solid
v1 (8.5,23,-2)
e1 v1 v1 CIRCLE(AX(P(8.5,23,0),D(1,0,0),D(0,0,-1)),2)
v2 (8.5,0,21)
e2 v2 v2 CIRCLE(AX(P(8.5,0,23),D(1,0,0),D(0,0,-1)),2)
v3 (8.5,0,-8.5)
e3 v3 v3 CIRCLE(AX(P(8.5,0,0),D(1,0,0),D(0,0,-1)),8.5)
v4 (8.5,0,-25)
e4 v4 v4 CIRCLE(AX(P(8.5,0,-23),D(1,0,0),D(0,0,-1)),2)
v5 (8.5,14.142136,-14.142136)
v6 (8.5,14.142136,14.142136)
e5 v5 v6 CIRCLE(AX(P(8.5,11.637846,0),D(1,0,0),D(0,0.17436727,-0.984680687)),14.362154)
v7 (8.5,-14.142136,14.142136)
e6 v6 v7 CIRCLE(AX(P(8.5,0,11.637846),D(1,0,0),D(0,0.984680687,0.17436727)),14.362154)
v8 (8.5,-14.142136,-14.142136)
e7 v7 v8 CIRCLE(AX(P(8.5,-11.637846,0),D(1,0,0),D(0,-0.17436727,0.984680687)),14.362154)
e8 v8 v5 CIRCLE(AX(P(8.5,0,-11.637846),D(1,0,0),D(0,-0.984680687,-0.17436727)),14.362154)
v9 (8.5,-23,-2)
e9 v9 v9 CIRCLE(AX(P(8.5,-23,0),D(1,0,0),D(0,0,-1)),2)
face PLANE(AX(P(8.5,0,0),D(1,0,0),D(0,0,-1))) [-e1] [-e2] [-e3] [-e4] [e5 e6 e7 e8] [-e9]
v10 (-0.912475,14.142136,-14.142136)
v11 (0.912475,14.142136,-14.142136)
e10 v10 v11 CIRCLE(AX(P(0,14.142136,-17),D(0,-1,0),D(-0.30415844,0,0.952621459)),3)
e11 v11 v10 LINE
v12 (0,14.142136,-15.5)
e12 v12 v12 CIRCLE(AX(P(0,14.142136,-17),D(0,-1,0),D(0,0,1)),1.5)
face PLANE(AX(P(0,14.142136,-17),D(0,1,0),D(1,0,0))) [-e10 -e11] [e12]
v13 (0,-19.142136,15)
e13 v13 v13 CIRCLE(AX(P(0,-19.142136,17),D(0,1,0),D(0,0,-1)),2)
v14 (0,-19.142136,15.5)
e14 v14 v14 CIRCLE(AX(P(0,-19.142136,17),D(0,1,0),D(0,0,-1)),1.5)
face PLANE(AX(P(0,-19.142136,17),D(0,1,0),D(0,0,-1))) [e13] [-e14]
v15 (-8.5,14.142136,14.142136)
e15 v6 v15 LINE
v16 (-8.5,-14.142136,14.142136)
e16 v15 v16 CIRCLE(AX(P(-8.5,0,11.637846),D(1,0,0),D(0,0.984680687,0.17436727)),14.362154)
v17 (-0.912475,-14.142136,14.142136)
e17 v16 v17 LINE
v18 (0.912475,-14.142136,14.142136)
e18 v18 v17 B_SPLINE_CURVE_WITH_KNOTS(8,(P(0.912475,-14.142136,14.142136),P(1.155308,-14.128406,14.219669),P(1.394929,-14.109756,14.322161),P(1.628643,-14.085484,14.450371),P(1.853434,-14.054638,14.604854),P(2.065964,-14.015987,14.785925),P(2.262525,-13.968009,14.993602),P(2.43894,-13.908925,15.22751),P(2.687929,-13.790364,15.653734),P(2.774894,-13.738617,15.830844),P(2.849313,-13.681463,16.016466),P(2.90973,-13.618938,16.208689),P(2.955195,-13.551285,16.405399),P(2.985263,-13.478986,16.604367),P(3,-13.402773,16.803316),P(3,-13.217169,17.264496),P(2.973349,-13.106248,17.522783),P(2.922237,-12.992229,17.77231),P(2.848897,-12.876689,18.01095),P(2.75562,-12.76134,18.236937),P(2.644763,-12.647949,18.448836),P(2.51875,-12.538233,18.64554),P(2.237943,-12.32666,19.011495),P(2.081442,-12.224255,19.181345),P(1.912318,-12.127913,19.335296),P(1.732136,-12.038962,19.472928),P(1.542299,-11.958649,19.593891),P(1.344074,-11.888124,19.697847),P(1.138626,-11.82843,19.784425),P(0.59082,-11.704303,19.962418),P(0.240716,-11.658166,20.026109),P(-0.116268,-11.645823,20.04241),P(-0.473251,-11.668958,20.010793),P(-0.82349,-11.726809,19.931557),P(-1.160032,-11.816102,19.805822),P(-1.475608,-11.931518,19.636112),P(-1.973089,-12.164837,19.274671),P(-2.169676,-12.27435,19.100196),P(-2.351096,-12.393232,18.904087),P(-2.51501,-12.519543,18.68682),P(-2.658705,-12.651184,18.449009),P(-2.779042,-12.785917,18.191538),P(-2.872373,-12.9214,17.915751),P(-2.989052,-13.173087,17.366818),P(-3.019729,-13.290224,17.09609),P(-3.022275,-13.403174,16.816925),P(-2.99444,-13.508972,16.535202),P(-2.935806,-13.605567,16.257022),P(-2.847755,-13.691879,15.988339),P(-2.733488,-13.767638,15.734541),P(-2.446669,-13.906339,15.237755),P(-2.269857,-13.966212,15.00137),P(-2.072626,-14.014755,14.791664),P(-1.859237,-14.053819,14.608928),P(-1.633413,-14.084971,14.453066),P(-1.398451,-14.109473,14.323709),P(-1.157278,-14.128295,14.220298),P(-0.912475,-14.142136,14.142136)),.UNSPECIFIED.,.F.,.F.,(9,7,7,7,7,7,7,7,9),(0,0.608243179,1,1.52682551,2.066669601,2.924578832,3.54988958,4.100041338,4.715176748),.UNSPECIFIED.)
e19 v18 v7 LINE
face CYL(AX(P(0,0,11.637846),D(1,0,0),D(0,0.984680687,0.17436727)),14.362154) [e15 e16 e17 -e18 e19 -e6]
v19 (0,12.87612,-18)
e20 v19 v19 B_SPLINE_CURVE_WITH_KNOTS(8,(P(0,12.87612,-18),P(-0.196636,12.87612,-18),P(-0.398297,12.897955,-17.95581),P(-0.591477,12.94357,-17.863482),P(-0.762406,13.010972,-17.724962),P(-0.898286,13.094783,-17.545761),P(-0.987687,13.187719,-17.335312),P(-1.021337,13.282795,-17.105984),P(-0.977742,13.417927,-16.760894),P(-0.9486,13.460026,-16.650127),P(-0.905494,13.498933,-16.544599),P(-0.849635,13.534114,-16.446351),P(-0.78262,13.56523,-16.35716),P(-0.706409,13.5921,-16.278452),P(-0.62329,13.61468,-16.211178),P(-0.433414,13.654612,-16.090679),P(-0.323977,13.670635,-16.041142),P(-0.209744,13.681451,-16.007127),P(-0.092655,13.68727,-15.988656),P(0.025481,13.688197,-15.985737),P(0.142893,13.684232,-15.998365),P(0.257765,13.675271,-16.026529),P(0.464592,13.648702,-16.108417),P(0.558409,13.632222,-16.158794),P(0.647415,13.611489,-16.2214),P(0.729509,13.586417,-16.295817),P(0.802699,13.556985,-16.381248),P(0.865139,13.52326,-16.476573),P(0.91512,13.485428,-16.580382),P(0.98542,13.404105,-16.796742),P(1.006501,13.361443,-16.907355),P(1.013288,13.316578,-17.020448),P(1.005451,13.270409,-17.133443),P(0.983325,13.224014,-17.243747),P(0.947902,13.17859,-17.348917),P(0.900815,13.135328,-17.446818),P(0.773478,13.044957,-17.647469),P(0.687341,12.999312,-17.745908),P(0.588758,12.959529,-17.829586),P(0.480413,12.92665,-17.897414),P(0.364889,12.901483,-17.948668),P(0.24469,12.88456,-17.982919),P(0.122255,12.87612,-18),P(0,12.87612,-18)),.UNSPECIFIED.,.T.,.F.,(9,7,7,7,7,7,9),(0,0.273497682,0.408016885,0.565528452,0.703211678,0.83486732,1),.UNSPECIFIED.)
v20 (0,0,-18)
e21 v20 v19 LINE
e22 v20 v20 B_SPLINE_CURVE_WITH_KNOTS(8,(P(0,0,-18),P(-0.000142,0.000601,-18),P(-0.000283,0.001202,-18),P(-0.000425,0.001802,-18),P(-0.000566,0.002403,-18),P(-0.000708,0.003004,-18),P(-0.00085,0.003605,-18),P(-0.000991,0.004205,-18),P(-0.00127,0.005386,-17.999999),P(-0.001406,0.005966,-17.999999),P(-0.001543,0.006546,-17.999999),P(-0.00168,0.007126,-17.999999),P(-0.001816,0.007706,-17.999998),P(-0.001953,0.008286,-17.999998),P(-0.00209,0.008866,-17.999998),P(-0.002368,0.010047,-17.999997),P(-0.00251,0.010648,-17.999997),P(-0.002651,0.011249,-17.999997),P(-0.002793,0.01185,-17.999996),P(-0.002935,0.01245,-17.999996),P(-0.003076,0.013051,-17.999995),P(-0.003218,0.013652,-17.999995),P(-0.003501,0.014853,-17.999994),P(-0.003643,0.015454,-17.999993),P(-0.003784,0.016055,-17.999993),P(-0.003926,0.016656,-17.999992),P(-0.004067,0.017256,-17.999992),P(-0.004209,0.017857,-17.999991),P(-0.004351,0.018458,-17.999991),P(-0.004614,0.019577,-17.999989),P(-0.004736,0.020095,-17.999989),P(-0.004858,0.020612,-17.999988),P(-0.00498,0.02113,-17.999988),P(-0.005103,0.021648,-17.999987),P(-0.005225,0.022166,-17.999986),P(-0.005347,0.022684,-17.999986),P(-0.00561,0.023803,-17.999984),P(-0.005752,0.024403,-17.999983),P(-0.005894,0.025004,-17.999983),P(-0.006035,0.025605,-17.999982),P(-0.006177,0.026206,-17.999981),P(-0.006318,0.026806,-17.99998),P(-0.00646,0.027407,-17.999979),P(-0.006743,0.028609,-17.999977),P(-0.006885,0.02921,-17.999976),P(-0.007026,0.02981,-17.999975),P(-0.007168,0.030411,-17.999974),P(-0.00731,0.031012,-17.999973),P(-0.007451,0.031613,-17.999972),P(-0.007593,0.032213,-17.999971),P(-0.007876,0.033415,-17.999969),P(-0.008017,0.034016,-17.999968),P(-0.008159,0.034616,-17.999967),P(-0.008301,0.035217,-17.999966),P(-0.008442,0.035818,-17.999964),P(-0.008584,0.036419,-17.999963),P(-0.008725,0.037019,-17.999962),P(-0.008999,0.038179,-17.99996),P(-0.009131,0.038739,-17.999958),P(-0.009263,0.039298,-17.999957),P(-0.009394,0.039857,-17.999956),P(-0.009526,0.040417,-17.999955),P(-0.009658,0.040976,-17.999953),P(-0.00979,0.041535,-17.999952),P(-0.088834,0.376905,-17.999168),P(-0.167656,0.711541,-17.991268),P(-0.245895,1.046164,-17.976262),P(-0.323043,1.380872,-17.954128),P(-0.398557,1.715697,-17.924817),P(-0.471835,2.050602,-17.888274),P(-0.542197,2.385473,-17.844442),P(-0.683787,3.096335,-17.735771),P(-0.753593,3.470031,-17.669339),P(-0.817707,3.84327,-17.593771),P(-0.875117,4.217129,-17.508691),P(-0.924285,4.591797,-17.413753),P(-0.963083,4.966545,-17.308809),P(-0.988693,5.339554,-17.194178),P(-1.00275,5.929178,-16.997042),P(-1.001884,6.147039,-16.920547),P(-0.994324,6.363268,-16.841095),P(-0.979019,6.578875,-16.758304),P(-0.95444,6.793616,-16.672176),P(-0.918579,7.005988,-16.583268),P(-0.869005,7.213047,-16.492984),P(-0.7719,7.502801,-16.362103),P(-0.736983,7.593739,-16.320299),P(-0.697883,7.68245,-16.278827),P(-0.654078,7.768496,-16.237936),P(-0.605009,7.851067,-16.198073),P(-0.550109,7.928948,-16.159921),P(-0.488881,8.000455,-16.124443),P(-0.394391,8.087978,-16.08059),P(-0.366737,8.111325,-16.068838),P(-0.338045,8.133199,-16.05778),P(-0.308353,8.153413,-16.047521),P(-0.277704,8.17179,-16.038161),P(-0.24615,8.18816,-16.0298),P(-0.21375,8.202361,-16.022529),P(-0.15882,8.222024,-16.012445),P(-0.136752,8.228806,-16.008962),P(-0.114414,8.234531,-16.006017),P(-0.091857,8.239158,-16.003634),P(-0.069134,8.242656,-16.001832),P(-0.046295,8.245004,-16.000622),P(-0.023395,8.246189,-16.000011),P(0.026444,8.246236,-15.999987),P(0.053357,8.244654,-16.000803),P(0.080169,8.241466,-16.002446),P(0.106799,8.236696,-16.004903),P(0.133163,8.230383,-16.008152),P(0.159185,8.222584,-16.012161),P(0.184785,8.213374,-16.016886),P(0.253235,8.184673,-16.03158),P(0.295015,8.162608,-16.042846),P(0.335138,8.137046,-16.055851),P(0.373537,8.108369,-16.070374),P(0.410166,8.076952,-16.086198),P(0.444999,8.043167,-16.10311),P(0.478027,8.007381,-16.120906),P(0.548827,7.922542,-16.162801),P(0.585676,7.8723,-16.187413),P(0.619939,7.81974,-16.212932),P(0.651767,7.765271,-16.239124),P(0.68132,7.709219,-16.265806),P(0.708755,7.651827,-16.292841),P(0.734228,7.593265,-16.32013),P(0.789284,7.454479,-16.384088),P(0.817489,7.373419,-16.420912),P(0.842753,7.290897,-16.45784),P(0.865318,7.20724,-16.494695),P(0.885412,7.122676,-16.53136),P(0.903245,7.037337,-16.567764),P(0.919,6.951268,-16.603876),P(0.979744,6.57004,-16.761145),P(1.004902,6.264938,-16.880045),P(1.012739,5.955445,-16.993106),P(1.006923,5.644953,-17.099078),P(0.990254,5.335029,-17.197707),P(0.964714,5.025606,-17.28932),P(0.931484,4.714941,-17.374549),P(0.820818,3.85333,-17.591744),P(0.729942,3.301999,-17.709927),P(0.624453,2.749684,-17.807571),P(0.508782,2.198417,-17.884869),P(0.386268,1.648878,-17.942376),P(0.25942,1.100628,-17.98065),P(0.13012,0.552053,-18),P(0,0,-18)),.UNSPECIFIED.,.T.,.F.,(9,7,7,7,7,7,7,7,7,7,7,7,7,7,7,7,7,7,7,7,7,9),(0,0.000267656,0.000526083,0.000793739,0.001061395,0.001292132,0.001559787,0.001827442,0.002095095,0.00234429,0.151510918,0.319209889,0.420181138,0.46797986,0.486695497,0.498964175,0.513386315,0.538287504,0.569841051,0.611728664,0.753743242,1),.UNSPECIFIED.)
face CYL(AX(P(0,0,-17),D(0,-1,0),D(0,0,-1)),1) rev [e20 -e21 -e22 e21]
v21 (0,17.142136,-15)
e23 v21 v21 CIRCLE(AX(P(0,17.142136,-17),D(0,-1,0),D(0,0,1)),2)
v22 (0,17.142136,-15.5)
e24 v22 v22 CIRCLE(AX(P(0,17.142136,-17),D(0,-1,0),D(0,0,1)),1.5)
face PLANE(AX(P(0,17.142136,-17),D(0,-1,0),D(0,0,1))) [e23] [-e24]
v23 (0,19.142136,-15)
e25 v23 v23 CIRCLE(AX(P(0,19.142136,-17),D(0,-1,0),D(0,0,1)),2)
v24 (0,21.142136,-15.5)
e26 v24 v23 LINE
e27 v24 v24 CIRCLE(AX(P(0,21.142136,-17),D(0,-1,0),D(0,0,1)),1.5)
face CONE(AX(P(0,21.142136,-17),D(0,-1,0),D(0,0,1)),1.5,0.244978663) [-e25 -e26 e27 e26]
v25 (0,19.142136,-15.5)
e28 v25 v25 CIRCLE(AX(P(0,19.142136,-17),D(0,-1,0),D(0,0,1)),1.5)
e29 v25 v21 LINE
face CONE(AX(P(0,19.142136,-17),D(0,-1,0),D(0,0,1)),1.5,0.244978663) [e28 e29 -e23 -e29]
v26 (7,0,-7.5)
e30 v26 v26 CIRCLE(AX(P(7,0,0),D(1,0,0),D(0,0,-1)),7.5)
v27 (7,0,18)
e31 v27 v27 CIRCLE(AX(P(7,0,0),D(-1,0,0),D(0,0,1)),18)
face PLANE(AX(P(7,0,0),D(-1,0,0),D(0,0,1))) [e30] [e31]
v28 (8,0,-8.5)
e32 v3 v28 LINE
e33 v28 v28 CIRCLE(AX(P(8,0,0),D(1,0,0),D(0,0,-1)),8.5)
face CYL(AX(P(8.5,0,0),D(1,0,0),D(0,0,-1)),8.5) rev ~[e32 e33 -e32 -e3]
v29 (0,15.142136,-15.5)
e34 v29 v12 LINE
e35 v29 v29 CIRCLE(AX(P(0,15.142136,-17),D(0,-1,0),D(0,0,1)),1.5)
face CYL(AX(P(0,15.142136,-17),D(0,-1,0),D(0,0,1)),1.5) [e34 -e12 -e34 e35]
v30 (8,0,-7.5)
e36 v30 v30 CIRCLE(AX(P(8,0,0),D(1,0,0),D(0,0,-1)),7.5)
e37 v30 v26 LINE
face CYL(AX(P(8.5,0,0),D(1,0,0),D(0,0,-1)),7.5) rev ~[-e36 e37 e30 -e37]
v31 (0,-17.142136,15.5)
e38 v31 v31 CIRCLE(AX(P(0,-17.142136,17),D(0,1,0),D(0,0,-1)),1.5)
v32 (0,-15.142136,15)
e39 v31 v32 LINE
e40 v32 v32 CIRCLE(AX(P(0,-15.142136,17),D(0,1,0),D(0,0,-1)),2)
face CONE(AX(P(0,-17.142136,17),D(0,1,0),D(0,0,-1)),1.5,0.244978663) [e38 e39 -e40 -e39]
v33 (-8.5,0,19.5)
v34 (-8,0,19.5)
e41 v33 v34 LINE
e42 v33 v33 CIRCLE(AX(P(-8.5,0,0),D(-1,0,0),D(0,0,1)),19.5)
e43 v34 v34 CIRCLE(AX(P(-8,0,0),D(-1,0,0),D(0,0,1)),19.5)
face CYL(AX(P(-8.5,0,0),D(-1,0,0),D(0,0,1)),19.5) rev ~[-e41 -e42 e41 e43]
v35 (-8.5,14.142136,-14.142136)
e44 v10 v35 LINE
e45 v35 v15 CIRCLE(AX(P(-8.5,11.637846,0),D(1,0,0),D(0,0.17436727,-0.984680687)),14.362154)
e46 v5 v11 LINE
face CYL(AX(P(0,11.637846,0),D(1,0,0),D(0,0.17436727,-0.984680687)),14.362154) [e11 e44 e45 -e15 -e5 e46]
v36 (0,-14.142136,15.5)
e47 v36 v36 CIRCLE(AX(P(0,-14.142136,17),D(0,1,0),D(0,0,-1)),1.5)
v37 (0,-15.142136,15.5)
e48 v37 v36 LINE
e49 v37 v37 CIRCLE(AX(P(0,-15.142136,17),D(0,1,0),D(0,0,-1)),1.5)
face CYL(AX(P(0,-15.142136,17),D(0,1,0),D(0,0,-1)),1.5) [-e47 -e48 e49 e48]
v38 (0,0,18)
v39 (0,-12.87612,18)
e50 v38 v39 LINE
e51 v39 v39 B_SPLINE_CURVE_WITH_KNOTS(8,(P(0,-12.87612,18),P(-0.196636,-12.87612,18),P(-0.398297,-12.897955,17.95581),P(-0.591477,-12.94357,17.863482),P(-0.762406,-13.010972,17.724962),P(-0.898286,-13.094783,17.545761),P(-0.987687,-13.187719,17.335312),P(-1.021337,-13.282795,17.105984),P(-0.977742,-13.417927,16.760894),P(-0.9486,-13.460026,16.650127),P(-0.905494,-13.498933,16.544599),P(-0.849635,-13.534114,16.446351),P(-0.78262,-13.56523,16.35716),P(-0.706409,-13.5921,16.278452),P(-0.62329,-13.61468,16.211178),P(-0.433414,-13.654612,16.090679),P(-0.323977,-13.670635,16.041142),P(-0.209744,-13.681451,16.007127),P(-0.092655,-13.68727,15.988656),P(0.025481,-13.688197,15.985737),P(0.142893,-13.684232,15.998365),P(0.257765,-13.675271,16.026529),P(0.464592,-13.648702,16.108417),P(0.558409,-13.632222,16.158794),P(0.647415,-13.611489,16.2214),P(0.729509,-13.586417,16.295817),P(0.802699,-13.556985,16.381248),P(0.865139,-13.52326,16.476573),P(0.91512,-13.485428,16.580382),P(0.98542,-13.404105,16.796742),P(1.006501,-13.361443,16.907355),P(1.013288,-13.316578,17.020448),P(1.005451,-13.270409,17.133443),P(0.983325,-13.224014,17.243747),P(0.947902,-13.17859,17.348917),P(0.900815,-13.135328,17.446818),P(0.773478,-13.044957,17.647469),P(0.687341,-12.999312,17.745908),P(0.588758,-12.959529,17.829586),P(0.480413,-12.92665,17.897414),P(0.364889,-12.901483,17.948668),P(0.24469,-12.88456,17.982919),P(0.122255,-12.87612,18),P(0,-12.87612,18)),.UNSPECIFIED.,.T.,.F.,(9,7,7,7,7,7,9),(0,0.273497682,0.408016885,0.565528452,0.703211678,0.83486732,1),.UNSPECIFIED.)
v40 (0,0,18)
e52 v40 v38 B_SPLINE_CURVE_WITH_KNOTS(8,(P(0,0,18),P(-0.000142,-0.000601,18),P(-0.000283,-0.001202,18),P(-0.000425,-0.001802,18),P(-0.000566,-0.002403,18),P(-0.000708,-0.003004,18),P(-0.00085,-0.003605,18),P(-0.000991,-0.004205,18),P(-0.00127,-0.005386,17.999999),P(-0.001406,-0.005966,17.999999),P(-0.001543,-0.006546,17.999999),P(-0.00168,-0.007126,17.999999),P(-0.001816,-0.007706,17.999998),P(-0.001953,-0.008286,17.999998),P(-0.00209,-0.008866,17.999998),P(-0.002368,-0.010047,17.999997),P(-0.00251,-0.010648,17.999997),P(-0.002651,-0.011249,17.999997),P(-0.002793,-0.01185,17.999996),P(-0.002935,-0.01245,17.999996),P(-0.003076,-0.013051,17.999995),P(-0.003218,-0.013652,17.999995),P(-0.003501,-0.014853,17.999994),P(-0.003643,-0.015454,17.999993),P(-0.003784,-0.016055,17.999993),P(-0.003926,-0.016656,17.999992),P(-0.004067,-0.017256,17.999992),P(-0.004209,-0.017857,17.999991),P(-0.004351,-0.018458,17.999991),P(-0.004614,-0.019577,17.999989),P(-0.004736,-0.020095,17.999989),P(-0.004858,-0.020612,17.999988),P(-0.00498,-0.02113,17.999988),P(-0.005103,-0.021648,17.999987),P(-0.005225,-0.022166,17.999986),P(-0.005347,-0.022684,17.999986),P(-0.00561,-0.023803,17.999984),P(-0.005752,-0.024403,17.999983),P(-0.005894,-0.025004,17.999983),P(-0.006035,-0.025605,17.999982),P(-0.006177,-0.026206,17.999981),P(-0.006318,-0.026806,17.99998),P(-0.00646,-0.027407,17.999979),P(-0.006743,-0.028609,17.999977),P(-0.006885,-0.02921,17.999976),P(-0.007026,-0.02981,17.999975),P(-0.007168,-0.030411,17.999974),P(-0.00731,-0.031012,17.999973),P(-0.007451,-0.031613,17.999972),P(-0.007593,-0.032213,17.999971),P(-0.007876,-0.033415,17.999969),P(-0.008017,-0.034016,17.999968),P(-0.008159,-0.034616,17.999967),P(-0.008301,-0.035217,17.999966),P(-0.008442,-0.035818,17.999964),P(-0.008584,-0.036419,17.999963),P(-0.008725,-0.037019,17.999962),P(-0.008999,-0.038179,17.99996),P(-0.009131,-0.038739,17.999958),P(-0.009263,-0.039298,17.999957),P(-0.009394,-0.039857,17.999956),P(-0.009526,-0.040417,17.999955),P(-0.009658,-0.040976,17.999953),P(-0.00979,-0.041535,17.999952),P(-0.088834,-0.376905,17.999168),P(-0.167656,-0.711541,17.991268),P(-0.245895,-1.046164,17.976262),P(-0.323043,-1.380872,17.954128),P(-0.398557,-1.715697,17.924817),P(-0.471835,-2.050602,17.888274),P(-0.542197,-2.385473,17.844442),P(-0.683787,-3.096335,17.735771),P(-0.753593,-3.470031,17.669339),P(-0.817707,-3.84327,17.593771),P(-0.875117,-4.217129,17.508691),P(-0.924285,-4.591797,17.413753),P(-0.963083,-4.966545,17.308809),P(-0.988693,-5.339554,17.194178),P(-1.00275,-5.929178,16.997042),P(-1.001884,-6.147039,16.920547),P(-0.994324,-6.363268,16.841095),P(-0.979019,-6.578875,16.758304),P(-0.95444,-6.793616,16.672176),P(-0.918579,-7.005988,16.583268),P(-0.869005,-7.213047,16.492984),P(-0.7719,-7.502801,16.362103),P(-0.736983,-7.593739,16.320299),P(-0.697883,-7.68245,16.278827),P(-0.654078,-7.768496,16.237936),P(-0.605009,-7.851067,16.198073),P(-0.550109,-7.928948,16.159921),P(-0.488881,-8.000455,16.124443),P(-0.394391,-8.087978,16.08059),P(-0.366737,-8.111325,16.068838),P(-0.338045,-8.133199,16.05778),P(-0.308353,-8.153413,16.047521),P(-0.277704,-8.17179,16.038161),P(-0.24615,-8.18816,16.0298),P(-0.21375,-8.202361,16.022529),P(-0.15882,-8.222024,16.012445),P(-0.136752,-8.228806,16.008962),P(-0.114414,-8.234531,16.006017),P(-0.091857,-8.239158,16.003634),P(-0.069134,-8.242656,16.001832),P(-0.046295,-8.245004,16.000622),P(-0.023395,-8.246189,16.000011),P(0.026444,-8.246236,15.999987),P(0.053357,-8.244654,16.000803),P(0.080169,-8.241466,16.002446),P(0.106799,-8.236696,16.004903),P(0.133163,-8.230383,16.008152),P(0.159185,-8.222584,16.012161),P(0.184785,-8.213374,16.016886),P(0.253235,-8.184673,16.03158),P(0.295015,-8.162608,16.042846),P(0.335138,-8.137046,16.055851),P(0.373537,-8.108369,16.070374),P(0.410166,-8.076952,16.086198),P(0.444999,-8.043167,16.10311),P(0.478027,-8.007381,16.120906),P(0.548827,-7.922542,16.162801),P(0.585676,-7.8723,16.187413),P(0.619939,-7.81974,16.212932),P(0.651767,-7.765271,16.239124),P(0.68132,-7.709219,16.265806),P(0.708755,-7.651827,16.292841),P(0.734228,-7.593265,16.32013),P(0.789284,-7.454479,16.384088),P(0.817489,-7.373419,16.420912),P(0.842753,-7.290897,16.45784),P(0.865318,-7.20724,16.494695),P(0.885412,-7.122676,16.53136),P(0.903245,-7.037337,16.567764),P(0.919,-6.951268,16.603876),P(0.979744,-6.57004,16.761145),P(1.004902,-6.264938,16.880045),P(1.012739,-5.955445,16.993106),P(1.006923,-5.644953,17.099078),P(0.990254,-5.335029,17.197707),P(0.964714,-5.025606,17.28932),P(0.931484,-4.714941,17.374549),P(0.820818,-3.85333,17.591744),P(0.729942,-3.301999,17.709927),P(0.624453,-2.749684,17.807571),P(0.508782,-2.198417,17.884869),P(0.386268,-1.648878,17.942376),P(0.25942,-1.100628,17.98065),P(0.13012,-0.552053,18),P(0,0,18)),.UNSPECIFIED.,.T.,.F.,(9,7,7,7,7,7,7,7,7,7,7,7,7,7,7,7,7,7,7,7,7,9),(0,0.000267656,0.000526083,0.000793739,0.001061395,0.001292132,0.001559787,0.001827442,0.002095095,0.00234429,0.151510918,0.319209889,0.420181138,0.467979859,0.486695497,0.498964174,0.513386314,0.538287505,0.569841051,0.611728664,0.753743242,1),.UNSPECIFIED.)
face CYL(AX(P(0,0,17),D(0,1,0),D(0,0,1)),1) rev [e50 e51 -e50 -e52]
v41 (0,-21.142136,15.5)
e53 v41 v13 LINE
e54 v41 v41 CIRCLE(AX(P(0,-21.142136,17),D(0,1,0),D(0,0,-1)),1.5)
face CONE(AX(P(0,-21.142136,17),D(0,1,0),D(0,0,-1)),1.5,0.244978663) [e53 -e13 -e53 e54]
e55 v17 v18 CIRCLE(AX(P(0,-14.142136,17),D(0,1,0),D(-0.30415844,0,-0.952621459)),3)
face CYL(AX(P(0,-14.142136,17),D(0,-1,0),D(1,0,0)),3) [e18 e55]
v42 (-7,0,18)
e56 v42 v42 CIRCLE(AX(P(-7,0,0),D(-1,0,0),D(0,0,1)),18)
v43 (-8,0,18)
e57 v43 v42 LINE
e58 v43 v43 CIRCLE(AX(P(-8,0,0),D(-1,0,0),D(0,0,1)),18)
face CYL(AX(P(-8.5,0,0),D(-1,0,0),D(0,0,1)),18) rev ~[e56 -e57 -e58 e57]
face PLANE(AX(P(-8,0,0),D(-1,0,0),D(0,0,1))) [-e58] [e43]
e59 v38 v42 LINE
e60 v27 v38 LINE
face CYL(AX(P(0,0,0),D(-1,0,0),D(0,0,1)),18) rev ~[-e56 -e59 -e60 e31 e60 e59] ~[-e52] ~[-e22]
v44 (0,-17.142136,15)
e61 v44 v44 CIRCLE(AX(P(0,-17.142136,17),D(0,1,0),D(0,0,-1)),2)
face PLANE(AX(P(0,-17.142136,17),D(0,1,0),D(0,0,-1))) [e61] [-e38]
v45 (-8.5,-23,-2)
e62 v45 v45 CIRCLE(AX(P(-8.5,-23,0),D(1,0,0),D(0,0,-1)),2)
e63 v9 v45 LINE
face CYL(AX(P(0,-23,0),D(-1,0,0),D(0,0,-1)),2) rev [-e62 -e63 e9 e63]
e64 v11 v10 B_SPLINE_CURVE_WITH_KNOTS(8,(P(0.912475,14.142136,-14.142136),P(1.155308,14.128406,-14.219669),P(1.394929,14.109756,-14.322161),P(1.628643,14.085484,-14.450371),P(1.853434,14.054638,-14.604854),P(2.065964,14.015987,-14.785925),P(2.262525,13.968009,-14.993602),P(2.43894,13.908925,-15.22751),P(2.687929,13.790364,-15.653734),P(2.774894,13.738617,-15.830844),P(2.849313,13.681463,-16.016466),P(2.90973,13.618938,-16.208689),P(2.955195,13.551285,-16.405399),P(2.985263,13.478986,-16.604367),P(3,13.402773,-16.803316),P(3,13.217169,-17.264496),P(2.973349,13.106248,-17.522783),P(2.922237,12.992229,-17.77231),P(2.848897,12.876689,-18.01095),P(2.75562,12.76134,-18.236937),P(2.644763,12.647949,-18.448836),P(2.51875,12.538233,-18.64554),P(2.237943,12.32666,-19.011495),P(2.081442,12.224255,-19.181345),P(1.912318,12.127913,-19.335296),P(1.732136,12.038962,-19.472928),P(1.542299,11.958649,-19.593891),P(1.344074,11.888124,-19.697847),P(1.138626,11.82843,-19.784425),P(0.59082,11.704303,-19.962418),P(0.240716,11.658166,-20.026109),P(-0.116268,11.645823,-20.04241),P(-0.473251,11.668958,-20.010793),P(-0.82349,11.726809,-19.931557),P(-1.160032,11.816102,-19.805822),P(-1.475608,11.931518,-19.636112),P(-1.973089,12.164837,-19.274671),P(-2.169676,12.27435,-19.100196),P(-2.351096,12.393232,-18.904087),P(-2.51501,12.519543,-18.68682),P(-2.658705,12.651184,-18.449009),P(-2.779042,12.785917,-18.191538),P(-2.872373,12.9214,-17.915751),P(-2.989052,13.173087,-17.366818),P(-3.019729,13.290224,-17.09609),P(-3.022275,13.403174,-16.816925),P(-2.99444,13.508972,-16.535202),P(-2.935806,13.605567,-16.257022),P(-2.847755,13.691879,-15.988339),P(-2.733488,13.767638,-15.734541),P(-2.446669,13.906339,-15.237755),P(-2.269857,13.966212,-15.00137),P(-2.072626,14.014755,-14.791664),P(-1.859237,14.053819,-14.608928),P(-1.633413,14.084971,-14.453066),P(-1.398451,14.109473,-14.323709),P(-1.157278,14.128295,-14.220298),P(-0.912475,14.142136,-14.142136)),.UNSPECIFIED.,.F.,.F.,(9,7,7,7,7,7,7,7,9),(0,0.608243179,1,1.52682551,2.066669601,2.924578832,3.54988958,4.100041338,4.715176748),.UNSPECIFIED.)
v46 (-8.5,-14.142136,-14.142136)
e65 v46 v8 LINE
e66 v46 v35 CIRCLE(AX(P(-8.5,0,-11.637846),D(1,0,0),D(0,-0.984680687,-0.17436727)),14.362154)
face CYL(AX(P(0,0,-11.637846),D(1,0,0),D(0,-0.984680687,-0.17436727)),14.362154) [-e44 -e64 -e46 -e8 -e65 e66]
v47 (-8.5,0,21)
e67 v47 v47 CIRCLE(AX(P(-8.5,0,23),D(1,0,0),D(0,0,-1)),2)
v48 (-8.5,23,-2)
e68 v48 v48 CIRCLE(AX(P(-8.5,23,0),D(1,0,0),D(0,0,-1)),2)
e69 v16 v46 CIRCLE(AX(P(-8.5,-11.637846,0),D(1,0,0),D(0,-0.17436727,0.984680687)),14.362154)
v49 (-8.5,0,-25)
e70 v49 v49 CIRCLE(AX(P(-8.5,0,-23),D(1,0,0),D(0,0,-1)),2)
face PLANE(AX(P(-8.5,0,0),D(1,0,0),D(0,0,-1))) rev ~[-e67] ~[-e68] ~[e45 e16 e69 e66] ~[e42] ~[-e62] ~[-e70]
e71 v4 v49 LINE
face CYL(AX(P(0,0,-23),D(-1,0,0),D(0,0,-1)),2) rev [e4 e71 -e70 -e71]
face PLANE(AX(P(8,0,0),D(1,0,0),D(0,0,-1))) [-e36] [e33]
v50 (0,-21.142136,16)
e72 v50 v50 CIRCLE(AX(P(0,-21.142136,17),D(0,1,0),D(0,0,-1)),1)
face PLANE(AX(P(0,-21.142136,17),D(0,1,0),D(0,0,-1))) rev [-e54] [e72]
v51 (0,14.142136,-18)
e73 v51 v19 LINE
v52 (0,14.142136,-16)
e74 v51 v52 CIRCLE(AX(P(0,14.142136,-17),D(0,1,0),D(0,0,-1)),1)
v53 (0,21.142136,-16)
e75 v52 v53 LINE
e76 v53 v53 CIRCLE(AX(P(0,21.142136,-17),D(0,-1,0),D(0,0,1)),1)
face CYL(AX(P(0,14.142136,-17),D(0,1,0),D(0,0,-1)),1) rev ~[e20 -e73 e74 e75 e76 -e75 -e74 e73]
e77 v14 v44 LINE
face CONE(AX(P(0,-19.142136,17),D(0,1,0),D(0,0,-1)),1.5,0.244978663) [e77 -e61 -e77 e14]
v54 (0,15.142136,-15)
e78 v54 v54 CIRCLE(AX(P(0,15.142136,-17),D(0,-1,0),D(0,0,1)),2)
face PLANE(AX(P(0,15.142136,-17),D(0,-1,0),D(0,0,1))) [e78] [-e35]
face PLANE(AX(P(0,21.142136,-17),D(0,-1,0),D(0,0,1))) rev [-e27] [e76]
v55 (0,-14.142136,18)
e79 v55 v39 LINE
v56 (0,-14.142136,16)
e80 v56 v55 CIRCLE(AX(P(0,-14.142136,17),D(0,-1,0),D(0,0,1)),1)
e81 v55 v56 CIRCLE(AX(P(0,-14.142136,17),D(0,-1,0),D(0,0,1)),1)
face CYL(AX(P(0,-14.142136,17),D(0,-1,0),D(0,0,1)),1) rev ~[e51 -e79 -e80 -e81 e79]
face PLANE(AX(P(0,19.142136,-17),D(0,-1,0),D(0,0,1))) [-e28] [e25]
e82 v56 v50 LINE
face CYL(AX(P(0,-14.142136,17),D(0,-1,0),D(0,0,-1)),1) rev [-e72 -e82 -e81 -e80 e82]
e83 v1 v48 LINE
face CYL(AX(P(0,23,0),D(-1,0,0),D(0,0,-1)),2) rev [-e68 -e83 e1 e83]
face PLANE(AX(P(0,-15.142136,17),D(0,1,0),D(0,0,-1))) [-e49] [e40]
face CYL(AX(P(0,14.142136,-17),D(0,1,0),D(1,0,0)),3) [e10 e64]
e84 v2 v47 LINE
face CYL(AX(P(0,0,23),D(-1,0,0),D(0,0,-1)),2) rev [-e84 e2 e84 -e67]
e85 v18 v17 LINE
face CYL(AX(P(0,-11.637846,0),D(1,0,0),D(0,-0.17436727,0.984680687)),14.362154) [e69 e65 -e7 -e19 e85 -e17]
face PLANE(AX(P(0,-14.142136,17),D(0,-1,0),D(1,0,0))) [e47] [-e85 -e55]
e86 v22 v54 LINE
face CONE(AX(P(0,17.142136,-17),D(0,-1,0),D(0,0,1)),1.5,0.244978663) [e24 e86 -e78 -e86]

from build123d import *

# Parameters (mm, degrees)
SKETCH2_R           = 2
BODY_DEPTH          = 8.5
SKETCH10_R          = 7.5
CUT_EXTRUDE2_DEPTH  = 10
SKETCH3_R           = 8.5
O_RING_SEAT_DEPTH   = 0.5
SKETCH8_R           = 18
CAVITY_DEPTH        = 7
SKETCH5_R           = 1
OUTLET_DEPTH        = 38.739236876
BOSS_EXTRUDE2_REACH = 50.576
SKETCH6_R           = 3
SKETCH6_R_2         = 1
INLET_COUNT         = 2
CUT_EXTRUDE3_REACH  = 42.509
SKETCH11_R          = 18
SKETCH12_R          = 19.5
CUT_EXTRUDE4_DEPTH  = 0.5


with BuildPart() as part:
    # Sketch2 → Body (new, symmetric)
    with BuildSketch(Plane(origin=(0, 0, 0), x_dir=(0, 0, -1), z_dir=(1, 0, 0))):
        with BuildLine():
            ThreePointArc((-14.142135624, 14.142135624), (-26, 0), (-14.142135624, -14.142135624))
            ThreePointArc((-14.142135624, -14.142135624), (0, -26), (14.142135624, -14.142135624))
            ThreePointArc((14.142135624, -14.142135624), (26, 0), (14.142135624, 14.142135624))
            ThreePointArc((14.142135624, 14.142135624), (0, 26), (-14.142135624, 14.142135624))
        make_face()
        with Locations((0, 23)):
            Circle(SKETCH2_R, mode=Mode.SUBTRACT)
        with Locations((23, 0)):
            Circle(SKETCH2_R, mode=Mode.SUBTRACT)
        with Locations((0, -23)):
            Circle(SKETCH2_R, mode=Mode.SUBTRACT)
        with Locations((-23, 0)):
            Circle(SKETCH2_R, mode=Mode.SUBTRACT)
    extrude(amount=BODY_DEPTH, both=True)

    # Sketch10 → Cut-Extrude2 (cut)
    with BuildSketch(Plane(origin=(8.5, 0, 0), x_dir=(0, 0, -1), z_dir=(1, 0, 0))):
        Circle(SKETCH10_R)
    extrude(amount=-CUT_EXTRUDE2_DEPTH, mode=Mode.SUBTRACT)

    # Sketch3 → O-Ring Seat (cut)
    with BuildSketch(Plane(origin=(8.5, 0, 0), x_dir=(0, 0, -1), z_dir=(1, 0, 0))):
        Circle(SKETCH3_R)
    extrude(amount=-O_RING_SEAT_DEPTH, mode=Mode.SUBTRACT)

    # Sketch8 → Cavity (cut, symmetric)
    with BuildSketch(Plane.ZY):
        Circle(SKETCH8_R)
    extrude(amount=CAVITY_DEPTH, both=True, mode=Mode.SUBTRACT)

    # Sketch5 → Outlet (cut, through all)
    with BuildSketch(Plane(origin=(0, 0, 0), x_dir=(1, 0, 0), z_dir=(0, 1, 0))):
        with Locations(Location((0, 17, 0), (0, 0, 90))):
            Circle(SKETCH5_R)
    outlet = extrude(amount=OUTLET_DEPTH, mode=Mode.SUBTRACT)

    # Sketch6 → Boss-Extrude2 (add, up to next)
    with BuildSketch(Plane(origin=(0, 14.142135624, 0), x_dir=(1, 0, 0), z_dir=(0, 1, 0)), mode=Mode.PRIVATE) as boss_extrude2_sk1:
        with Locations((0, 17)):
            Circle(SKETCH6_R)
        with Locations(Location((0, 17, 0), (0, 0, 90))):
            Circle(SKETCH6_R_2, mode=Mode.SUBTRACT)
    boss_extrude2_tool1 = extrude(boss_extrude2_sk1.sketch, amount=-BOSS_EXTRUDE2_REACH, mode=Mode.PRIVATE) - part.part
    boss_extrude2 = boss_extrude2_tool1.solids().sort_by_distance((-2.915147, 14.142136, -17))[0]
    add(boss_extrude2)

    # Sketch9 → Revolve1 (revolve)
    with BuildSketch(Plane(origin=(0, 0, 0), x_dir=(0, 0, -1), z_dir=(1, 0, 0)), mode=Mode.PRIVATE) as revolve1_sk:
        Polygon((18, 14.142135624), (18, 21.142135624), (18.5, 21.142135624), (19, 19.142135624), (18.5, 19.142135624), (19, 17.142135624), (18.5, 17.142135624), (19, 15.142135624), (18.5, 15.142135624), (18.5, 14.142135624), align=None)
    revolve1 = revolve(revolve1_sk.sketch.rotate(Axis((0, 14.142135624, -17), (0, -1, 0)), 180), axis=Axis((0, 14.142135624, -17), (0, -1, 0)))

    # Inlet: Outlet, Boss-Extrude2, Revolve1 ×2 about axis
    inlet_axis = Axis((8, 0, 0), (1, 0, 0))
    add([outlet.rotate(inlet_axis, i * 360 / INLET_COUNT) for i in range(1, INLET_COUNT)], mode=Mode.SUBTRACT)
    add([boss_extrude2.rotate(inlet_axis, i * 360 / INLET_COUNT) for i in range(1, INLET_COUNT)])
    add([revolve1.rotate(inlet_axis, i * 360 / INLET_COUNT) for i in range(1, INLET_COUNT)])

    # Sketch11 → Cut-Extrude3 (cut, up to next)
    with BuildSketch(Plane.ZY.offset(8.5), mode=Mode.PRIVATE) as cut_extrude3_sk1:
        Circle(SKETCH11_R)
    cut_extrude3_tool1 = extrude(cut_extrude3_sk1.sketch, amount=-CUT_EXTRUDE3_REACH, mode=Mode.PRIVATE) & part.part
    add(cut_extrude3_tool1.solids().sort_by_distance((-8.5, 0, 0))[0], mode=Mode.SUBTRACT)

    # Sketch12 → Cut-Extrude4 (cut)
    with BuildSketch(Plane.ZY.offset(8.5)):
        Circle(SKETCH12_R)
    extrude(amount=-CUT_EXTRUDE4_DEPTH, mode=Mode.SUBTRACT)


solid = part.part
